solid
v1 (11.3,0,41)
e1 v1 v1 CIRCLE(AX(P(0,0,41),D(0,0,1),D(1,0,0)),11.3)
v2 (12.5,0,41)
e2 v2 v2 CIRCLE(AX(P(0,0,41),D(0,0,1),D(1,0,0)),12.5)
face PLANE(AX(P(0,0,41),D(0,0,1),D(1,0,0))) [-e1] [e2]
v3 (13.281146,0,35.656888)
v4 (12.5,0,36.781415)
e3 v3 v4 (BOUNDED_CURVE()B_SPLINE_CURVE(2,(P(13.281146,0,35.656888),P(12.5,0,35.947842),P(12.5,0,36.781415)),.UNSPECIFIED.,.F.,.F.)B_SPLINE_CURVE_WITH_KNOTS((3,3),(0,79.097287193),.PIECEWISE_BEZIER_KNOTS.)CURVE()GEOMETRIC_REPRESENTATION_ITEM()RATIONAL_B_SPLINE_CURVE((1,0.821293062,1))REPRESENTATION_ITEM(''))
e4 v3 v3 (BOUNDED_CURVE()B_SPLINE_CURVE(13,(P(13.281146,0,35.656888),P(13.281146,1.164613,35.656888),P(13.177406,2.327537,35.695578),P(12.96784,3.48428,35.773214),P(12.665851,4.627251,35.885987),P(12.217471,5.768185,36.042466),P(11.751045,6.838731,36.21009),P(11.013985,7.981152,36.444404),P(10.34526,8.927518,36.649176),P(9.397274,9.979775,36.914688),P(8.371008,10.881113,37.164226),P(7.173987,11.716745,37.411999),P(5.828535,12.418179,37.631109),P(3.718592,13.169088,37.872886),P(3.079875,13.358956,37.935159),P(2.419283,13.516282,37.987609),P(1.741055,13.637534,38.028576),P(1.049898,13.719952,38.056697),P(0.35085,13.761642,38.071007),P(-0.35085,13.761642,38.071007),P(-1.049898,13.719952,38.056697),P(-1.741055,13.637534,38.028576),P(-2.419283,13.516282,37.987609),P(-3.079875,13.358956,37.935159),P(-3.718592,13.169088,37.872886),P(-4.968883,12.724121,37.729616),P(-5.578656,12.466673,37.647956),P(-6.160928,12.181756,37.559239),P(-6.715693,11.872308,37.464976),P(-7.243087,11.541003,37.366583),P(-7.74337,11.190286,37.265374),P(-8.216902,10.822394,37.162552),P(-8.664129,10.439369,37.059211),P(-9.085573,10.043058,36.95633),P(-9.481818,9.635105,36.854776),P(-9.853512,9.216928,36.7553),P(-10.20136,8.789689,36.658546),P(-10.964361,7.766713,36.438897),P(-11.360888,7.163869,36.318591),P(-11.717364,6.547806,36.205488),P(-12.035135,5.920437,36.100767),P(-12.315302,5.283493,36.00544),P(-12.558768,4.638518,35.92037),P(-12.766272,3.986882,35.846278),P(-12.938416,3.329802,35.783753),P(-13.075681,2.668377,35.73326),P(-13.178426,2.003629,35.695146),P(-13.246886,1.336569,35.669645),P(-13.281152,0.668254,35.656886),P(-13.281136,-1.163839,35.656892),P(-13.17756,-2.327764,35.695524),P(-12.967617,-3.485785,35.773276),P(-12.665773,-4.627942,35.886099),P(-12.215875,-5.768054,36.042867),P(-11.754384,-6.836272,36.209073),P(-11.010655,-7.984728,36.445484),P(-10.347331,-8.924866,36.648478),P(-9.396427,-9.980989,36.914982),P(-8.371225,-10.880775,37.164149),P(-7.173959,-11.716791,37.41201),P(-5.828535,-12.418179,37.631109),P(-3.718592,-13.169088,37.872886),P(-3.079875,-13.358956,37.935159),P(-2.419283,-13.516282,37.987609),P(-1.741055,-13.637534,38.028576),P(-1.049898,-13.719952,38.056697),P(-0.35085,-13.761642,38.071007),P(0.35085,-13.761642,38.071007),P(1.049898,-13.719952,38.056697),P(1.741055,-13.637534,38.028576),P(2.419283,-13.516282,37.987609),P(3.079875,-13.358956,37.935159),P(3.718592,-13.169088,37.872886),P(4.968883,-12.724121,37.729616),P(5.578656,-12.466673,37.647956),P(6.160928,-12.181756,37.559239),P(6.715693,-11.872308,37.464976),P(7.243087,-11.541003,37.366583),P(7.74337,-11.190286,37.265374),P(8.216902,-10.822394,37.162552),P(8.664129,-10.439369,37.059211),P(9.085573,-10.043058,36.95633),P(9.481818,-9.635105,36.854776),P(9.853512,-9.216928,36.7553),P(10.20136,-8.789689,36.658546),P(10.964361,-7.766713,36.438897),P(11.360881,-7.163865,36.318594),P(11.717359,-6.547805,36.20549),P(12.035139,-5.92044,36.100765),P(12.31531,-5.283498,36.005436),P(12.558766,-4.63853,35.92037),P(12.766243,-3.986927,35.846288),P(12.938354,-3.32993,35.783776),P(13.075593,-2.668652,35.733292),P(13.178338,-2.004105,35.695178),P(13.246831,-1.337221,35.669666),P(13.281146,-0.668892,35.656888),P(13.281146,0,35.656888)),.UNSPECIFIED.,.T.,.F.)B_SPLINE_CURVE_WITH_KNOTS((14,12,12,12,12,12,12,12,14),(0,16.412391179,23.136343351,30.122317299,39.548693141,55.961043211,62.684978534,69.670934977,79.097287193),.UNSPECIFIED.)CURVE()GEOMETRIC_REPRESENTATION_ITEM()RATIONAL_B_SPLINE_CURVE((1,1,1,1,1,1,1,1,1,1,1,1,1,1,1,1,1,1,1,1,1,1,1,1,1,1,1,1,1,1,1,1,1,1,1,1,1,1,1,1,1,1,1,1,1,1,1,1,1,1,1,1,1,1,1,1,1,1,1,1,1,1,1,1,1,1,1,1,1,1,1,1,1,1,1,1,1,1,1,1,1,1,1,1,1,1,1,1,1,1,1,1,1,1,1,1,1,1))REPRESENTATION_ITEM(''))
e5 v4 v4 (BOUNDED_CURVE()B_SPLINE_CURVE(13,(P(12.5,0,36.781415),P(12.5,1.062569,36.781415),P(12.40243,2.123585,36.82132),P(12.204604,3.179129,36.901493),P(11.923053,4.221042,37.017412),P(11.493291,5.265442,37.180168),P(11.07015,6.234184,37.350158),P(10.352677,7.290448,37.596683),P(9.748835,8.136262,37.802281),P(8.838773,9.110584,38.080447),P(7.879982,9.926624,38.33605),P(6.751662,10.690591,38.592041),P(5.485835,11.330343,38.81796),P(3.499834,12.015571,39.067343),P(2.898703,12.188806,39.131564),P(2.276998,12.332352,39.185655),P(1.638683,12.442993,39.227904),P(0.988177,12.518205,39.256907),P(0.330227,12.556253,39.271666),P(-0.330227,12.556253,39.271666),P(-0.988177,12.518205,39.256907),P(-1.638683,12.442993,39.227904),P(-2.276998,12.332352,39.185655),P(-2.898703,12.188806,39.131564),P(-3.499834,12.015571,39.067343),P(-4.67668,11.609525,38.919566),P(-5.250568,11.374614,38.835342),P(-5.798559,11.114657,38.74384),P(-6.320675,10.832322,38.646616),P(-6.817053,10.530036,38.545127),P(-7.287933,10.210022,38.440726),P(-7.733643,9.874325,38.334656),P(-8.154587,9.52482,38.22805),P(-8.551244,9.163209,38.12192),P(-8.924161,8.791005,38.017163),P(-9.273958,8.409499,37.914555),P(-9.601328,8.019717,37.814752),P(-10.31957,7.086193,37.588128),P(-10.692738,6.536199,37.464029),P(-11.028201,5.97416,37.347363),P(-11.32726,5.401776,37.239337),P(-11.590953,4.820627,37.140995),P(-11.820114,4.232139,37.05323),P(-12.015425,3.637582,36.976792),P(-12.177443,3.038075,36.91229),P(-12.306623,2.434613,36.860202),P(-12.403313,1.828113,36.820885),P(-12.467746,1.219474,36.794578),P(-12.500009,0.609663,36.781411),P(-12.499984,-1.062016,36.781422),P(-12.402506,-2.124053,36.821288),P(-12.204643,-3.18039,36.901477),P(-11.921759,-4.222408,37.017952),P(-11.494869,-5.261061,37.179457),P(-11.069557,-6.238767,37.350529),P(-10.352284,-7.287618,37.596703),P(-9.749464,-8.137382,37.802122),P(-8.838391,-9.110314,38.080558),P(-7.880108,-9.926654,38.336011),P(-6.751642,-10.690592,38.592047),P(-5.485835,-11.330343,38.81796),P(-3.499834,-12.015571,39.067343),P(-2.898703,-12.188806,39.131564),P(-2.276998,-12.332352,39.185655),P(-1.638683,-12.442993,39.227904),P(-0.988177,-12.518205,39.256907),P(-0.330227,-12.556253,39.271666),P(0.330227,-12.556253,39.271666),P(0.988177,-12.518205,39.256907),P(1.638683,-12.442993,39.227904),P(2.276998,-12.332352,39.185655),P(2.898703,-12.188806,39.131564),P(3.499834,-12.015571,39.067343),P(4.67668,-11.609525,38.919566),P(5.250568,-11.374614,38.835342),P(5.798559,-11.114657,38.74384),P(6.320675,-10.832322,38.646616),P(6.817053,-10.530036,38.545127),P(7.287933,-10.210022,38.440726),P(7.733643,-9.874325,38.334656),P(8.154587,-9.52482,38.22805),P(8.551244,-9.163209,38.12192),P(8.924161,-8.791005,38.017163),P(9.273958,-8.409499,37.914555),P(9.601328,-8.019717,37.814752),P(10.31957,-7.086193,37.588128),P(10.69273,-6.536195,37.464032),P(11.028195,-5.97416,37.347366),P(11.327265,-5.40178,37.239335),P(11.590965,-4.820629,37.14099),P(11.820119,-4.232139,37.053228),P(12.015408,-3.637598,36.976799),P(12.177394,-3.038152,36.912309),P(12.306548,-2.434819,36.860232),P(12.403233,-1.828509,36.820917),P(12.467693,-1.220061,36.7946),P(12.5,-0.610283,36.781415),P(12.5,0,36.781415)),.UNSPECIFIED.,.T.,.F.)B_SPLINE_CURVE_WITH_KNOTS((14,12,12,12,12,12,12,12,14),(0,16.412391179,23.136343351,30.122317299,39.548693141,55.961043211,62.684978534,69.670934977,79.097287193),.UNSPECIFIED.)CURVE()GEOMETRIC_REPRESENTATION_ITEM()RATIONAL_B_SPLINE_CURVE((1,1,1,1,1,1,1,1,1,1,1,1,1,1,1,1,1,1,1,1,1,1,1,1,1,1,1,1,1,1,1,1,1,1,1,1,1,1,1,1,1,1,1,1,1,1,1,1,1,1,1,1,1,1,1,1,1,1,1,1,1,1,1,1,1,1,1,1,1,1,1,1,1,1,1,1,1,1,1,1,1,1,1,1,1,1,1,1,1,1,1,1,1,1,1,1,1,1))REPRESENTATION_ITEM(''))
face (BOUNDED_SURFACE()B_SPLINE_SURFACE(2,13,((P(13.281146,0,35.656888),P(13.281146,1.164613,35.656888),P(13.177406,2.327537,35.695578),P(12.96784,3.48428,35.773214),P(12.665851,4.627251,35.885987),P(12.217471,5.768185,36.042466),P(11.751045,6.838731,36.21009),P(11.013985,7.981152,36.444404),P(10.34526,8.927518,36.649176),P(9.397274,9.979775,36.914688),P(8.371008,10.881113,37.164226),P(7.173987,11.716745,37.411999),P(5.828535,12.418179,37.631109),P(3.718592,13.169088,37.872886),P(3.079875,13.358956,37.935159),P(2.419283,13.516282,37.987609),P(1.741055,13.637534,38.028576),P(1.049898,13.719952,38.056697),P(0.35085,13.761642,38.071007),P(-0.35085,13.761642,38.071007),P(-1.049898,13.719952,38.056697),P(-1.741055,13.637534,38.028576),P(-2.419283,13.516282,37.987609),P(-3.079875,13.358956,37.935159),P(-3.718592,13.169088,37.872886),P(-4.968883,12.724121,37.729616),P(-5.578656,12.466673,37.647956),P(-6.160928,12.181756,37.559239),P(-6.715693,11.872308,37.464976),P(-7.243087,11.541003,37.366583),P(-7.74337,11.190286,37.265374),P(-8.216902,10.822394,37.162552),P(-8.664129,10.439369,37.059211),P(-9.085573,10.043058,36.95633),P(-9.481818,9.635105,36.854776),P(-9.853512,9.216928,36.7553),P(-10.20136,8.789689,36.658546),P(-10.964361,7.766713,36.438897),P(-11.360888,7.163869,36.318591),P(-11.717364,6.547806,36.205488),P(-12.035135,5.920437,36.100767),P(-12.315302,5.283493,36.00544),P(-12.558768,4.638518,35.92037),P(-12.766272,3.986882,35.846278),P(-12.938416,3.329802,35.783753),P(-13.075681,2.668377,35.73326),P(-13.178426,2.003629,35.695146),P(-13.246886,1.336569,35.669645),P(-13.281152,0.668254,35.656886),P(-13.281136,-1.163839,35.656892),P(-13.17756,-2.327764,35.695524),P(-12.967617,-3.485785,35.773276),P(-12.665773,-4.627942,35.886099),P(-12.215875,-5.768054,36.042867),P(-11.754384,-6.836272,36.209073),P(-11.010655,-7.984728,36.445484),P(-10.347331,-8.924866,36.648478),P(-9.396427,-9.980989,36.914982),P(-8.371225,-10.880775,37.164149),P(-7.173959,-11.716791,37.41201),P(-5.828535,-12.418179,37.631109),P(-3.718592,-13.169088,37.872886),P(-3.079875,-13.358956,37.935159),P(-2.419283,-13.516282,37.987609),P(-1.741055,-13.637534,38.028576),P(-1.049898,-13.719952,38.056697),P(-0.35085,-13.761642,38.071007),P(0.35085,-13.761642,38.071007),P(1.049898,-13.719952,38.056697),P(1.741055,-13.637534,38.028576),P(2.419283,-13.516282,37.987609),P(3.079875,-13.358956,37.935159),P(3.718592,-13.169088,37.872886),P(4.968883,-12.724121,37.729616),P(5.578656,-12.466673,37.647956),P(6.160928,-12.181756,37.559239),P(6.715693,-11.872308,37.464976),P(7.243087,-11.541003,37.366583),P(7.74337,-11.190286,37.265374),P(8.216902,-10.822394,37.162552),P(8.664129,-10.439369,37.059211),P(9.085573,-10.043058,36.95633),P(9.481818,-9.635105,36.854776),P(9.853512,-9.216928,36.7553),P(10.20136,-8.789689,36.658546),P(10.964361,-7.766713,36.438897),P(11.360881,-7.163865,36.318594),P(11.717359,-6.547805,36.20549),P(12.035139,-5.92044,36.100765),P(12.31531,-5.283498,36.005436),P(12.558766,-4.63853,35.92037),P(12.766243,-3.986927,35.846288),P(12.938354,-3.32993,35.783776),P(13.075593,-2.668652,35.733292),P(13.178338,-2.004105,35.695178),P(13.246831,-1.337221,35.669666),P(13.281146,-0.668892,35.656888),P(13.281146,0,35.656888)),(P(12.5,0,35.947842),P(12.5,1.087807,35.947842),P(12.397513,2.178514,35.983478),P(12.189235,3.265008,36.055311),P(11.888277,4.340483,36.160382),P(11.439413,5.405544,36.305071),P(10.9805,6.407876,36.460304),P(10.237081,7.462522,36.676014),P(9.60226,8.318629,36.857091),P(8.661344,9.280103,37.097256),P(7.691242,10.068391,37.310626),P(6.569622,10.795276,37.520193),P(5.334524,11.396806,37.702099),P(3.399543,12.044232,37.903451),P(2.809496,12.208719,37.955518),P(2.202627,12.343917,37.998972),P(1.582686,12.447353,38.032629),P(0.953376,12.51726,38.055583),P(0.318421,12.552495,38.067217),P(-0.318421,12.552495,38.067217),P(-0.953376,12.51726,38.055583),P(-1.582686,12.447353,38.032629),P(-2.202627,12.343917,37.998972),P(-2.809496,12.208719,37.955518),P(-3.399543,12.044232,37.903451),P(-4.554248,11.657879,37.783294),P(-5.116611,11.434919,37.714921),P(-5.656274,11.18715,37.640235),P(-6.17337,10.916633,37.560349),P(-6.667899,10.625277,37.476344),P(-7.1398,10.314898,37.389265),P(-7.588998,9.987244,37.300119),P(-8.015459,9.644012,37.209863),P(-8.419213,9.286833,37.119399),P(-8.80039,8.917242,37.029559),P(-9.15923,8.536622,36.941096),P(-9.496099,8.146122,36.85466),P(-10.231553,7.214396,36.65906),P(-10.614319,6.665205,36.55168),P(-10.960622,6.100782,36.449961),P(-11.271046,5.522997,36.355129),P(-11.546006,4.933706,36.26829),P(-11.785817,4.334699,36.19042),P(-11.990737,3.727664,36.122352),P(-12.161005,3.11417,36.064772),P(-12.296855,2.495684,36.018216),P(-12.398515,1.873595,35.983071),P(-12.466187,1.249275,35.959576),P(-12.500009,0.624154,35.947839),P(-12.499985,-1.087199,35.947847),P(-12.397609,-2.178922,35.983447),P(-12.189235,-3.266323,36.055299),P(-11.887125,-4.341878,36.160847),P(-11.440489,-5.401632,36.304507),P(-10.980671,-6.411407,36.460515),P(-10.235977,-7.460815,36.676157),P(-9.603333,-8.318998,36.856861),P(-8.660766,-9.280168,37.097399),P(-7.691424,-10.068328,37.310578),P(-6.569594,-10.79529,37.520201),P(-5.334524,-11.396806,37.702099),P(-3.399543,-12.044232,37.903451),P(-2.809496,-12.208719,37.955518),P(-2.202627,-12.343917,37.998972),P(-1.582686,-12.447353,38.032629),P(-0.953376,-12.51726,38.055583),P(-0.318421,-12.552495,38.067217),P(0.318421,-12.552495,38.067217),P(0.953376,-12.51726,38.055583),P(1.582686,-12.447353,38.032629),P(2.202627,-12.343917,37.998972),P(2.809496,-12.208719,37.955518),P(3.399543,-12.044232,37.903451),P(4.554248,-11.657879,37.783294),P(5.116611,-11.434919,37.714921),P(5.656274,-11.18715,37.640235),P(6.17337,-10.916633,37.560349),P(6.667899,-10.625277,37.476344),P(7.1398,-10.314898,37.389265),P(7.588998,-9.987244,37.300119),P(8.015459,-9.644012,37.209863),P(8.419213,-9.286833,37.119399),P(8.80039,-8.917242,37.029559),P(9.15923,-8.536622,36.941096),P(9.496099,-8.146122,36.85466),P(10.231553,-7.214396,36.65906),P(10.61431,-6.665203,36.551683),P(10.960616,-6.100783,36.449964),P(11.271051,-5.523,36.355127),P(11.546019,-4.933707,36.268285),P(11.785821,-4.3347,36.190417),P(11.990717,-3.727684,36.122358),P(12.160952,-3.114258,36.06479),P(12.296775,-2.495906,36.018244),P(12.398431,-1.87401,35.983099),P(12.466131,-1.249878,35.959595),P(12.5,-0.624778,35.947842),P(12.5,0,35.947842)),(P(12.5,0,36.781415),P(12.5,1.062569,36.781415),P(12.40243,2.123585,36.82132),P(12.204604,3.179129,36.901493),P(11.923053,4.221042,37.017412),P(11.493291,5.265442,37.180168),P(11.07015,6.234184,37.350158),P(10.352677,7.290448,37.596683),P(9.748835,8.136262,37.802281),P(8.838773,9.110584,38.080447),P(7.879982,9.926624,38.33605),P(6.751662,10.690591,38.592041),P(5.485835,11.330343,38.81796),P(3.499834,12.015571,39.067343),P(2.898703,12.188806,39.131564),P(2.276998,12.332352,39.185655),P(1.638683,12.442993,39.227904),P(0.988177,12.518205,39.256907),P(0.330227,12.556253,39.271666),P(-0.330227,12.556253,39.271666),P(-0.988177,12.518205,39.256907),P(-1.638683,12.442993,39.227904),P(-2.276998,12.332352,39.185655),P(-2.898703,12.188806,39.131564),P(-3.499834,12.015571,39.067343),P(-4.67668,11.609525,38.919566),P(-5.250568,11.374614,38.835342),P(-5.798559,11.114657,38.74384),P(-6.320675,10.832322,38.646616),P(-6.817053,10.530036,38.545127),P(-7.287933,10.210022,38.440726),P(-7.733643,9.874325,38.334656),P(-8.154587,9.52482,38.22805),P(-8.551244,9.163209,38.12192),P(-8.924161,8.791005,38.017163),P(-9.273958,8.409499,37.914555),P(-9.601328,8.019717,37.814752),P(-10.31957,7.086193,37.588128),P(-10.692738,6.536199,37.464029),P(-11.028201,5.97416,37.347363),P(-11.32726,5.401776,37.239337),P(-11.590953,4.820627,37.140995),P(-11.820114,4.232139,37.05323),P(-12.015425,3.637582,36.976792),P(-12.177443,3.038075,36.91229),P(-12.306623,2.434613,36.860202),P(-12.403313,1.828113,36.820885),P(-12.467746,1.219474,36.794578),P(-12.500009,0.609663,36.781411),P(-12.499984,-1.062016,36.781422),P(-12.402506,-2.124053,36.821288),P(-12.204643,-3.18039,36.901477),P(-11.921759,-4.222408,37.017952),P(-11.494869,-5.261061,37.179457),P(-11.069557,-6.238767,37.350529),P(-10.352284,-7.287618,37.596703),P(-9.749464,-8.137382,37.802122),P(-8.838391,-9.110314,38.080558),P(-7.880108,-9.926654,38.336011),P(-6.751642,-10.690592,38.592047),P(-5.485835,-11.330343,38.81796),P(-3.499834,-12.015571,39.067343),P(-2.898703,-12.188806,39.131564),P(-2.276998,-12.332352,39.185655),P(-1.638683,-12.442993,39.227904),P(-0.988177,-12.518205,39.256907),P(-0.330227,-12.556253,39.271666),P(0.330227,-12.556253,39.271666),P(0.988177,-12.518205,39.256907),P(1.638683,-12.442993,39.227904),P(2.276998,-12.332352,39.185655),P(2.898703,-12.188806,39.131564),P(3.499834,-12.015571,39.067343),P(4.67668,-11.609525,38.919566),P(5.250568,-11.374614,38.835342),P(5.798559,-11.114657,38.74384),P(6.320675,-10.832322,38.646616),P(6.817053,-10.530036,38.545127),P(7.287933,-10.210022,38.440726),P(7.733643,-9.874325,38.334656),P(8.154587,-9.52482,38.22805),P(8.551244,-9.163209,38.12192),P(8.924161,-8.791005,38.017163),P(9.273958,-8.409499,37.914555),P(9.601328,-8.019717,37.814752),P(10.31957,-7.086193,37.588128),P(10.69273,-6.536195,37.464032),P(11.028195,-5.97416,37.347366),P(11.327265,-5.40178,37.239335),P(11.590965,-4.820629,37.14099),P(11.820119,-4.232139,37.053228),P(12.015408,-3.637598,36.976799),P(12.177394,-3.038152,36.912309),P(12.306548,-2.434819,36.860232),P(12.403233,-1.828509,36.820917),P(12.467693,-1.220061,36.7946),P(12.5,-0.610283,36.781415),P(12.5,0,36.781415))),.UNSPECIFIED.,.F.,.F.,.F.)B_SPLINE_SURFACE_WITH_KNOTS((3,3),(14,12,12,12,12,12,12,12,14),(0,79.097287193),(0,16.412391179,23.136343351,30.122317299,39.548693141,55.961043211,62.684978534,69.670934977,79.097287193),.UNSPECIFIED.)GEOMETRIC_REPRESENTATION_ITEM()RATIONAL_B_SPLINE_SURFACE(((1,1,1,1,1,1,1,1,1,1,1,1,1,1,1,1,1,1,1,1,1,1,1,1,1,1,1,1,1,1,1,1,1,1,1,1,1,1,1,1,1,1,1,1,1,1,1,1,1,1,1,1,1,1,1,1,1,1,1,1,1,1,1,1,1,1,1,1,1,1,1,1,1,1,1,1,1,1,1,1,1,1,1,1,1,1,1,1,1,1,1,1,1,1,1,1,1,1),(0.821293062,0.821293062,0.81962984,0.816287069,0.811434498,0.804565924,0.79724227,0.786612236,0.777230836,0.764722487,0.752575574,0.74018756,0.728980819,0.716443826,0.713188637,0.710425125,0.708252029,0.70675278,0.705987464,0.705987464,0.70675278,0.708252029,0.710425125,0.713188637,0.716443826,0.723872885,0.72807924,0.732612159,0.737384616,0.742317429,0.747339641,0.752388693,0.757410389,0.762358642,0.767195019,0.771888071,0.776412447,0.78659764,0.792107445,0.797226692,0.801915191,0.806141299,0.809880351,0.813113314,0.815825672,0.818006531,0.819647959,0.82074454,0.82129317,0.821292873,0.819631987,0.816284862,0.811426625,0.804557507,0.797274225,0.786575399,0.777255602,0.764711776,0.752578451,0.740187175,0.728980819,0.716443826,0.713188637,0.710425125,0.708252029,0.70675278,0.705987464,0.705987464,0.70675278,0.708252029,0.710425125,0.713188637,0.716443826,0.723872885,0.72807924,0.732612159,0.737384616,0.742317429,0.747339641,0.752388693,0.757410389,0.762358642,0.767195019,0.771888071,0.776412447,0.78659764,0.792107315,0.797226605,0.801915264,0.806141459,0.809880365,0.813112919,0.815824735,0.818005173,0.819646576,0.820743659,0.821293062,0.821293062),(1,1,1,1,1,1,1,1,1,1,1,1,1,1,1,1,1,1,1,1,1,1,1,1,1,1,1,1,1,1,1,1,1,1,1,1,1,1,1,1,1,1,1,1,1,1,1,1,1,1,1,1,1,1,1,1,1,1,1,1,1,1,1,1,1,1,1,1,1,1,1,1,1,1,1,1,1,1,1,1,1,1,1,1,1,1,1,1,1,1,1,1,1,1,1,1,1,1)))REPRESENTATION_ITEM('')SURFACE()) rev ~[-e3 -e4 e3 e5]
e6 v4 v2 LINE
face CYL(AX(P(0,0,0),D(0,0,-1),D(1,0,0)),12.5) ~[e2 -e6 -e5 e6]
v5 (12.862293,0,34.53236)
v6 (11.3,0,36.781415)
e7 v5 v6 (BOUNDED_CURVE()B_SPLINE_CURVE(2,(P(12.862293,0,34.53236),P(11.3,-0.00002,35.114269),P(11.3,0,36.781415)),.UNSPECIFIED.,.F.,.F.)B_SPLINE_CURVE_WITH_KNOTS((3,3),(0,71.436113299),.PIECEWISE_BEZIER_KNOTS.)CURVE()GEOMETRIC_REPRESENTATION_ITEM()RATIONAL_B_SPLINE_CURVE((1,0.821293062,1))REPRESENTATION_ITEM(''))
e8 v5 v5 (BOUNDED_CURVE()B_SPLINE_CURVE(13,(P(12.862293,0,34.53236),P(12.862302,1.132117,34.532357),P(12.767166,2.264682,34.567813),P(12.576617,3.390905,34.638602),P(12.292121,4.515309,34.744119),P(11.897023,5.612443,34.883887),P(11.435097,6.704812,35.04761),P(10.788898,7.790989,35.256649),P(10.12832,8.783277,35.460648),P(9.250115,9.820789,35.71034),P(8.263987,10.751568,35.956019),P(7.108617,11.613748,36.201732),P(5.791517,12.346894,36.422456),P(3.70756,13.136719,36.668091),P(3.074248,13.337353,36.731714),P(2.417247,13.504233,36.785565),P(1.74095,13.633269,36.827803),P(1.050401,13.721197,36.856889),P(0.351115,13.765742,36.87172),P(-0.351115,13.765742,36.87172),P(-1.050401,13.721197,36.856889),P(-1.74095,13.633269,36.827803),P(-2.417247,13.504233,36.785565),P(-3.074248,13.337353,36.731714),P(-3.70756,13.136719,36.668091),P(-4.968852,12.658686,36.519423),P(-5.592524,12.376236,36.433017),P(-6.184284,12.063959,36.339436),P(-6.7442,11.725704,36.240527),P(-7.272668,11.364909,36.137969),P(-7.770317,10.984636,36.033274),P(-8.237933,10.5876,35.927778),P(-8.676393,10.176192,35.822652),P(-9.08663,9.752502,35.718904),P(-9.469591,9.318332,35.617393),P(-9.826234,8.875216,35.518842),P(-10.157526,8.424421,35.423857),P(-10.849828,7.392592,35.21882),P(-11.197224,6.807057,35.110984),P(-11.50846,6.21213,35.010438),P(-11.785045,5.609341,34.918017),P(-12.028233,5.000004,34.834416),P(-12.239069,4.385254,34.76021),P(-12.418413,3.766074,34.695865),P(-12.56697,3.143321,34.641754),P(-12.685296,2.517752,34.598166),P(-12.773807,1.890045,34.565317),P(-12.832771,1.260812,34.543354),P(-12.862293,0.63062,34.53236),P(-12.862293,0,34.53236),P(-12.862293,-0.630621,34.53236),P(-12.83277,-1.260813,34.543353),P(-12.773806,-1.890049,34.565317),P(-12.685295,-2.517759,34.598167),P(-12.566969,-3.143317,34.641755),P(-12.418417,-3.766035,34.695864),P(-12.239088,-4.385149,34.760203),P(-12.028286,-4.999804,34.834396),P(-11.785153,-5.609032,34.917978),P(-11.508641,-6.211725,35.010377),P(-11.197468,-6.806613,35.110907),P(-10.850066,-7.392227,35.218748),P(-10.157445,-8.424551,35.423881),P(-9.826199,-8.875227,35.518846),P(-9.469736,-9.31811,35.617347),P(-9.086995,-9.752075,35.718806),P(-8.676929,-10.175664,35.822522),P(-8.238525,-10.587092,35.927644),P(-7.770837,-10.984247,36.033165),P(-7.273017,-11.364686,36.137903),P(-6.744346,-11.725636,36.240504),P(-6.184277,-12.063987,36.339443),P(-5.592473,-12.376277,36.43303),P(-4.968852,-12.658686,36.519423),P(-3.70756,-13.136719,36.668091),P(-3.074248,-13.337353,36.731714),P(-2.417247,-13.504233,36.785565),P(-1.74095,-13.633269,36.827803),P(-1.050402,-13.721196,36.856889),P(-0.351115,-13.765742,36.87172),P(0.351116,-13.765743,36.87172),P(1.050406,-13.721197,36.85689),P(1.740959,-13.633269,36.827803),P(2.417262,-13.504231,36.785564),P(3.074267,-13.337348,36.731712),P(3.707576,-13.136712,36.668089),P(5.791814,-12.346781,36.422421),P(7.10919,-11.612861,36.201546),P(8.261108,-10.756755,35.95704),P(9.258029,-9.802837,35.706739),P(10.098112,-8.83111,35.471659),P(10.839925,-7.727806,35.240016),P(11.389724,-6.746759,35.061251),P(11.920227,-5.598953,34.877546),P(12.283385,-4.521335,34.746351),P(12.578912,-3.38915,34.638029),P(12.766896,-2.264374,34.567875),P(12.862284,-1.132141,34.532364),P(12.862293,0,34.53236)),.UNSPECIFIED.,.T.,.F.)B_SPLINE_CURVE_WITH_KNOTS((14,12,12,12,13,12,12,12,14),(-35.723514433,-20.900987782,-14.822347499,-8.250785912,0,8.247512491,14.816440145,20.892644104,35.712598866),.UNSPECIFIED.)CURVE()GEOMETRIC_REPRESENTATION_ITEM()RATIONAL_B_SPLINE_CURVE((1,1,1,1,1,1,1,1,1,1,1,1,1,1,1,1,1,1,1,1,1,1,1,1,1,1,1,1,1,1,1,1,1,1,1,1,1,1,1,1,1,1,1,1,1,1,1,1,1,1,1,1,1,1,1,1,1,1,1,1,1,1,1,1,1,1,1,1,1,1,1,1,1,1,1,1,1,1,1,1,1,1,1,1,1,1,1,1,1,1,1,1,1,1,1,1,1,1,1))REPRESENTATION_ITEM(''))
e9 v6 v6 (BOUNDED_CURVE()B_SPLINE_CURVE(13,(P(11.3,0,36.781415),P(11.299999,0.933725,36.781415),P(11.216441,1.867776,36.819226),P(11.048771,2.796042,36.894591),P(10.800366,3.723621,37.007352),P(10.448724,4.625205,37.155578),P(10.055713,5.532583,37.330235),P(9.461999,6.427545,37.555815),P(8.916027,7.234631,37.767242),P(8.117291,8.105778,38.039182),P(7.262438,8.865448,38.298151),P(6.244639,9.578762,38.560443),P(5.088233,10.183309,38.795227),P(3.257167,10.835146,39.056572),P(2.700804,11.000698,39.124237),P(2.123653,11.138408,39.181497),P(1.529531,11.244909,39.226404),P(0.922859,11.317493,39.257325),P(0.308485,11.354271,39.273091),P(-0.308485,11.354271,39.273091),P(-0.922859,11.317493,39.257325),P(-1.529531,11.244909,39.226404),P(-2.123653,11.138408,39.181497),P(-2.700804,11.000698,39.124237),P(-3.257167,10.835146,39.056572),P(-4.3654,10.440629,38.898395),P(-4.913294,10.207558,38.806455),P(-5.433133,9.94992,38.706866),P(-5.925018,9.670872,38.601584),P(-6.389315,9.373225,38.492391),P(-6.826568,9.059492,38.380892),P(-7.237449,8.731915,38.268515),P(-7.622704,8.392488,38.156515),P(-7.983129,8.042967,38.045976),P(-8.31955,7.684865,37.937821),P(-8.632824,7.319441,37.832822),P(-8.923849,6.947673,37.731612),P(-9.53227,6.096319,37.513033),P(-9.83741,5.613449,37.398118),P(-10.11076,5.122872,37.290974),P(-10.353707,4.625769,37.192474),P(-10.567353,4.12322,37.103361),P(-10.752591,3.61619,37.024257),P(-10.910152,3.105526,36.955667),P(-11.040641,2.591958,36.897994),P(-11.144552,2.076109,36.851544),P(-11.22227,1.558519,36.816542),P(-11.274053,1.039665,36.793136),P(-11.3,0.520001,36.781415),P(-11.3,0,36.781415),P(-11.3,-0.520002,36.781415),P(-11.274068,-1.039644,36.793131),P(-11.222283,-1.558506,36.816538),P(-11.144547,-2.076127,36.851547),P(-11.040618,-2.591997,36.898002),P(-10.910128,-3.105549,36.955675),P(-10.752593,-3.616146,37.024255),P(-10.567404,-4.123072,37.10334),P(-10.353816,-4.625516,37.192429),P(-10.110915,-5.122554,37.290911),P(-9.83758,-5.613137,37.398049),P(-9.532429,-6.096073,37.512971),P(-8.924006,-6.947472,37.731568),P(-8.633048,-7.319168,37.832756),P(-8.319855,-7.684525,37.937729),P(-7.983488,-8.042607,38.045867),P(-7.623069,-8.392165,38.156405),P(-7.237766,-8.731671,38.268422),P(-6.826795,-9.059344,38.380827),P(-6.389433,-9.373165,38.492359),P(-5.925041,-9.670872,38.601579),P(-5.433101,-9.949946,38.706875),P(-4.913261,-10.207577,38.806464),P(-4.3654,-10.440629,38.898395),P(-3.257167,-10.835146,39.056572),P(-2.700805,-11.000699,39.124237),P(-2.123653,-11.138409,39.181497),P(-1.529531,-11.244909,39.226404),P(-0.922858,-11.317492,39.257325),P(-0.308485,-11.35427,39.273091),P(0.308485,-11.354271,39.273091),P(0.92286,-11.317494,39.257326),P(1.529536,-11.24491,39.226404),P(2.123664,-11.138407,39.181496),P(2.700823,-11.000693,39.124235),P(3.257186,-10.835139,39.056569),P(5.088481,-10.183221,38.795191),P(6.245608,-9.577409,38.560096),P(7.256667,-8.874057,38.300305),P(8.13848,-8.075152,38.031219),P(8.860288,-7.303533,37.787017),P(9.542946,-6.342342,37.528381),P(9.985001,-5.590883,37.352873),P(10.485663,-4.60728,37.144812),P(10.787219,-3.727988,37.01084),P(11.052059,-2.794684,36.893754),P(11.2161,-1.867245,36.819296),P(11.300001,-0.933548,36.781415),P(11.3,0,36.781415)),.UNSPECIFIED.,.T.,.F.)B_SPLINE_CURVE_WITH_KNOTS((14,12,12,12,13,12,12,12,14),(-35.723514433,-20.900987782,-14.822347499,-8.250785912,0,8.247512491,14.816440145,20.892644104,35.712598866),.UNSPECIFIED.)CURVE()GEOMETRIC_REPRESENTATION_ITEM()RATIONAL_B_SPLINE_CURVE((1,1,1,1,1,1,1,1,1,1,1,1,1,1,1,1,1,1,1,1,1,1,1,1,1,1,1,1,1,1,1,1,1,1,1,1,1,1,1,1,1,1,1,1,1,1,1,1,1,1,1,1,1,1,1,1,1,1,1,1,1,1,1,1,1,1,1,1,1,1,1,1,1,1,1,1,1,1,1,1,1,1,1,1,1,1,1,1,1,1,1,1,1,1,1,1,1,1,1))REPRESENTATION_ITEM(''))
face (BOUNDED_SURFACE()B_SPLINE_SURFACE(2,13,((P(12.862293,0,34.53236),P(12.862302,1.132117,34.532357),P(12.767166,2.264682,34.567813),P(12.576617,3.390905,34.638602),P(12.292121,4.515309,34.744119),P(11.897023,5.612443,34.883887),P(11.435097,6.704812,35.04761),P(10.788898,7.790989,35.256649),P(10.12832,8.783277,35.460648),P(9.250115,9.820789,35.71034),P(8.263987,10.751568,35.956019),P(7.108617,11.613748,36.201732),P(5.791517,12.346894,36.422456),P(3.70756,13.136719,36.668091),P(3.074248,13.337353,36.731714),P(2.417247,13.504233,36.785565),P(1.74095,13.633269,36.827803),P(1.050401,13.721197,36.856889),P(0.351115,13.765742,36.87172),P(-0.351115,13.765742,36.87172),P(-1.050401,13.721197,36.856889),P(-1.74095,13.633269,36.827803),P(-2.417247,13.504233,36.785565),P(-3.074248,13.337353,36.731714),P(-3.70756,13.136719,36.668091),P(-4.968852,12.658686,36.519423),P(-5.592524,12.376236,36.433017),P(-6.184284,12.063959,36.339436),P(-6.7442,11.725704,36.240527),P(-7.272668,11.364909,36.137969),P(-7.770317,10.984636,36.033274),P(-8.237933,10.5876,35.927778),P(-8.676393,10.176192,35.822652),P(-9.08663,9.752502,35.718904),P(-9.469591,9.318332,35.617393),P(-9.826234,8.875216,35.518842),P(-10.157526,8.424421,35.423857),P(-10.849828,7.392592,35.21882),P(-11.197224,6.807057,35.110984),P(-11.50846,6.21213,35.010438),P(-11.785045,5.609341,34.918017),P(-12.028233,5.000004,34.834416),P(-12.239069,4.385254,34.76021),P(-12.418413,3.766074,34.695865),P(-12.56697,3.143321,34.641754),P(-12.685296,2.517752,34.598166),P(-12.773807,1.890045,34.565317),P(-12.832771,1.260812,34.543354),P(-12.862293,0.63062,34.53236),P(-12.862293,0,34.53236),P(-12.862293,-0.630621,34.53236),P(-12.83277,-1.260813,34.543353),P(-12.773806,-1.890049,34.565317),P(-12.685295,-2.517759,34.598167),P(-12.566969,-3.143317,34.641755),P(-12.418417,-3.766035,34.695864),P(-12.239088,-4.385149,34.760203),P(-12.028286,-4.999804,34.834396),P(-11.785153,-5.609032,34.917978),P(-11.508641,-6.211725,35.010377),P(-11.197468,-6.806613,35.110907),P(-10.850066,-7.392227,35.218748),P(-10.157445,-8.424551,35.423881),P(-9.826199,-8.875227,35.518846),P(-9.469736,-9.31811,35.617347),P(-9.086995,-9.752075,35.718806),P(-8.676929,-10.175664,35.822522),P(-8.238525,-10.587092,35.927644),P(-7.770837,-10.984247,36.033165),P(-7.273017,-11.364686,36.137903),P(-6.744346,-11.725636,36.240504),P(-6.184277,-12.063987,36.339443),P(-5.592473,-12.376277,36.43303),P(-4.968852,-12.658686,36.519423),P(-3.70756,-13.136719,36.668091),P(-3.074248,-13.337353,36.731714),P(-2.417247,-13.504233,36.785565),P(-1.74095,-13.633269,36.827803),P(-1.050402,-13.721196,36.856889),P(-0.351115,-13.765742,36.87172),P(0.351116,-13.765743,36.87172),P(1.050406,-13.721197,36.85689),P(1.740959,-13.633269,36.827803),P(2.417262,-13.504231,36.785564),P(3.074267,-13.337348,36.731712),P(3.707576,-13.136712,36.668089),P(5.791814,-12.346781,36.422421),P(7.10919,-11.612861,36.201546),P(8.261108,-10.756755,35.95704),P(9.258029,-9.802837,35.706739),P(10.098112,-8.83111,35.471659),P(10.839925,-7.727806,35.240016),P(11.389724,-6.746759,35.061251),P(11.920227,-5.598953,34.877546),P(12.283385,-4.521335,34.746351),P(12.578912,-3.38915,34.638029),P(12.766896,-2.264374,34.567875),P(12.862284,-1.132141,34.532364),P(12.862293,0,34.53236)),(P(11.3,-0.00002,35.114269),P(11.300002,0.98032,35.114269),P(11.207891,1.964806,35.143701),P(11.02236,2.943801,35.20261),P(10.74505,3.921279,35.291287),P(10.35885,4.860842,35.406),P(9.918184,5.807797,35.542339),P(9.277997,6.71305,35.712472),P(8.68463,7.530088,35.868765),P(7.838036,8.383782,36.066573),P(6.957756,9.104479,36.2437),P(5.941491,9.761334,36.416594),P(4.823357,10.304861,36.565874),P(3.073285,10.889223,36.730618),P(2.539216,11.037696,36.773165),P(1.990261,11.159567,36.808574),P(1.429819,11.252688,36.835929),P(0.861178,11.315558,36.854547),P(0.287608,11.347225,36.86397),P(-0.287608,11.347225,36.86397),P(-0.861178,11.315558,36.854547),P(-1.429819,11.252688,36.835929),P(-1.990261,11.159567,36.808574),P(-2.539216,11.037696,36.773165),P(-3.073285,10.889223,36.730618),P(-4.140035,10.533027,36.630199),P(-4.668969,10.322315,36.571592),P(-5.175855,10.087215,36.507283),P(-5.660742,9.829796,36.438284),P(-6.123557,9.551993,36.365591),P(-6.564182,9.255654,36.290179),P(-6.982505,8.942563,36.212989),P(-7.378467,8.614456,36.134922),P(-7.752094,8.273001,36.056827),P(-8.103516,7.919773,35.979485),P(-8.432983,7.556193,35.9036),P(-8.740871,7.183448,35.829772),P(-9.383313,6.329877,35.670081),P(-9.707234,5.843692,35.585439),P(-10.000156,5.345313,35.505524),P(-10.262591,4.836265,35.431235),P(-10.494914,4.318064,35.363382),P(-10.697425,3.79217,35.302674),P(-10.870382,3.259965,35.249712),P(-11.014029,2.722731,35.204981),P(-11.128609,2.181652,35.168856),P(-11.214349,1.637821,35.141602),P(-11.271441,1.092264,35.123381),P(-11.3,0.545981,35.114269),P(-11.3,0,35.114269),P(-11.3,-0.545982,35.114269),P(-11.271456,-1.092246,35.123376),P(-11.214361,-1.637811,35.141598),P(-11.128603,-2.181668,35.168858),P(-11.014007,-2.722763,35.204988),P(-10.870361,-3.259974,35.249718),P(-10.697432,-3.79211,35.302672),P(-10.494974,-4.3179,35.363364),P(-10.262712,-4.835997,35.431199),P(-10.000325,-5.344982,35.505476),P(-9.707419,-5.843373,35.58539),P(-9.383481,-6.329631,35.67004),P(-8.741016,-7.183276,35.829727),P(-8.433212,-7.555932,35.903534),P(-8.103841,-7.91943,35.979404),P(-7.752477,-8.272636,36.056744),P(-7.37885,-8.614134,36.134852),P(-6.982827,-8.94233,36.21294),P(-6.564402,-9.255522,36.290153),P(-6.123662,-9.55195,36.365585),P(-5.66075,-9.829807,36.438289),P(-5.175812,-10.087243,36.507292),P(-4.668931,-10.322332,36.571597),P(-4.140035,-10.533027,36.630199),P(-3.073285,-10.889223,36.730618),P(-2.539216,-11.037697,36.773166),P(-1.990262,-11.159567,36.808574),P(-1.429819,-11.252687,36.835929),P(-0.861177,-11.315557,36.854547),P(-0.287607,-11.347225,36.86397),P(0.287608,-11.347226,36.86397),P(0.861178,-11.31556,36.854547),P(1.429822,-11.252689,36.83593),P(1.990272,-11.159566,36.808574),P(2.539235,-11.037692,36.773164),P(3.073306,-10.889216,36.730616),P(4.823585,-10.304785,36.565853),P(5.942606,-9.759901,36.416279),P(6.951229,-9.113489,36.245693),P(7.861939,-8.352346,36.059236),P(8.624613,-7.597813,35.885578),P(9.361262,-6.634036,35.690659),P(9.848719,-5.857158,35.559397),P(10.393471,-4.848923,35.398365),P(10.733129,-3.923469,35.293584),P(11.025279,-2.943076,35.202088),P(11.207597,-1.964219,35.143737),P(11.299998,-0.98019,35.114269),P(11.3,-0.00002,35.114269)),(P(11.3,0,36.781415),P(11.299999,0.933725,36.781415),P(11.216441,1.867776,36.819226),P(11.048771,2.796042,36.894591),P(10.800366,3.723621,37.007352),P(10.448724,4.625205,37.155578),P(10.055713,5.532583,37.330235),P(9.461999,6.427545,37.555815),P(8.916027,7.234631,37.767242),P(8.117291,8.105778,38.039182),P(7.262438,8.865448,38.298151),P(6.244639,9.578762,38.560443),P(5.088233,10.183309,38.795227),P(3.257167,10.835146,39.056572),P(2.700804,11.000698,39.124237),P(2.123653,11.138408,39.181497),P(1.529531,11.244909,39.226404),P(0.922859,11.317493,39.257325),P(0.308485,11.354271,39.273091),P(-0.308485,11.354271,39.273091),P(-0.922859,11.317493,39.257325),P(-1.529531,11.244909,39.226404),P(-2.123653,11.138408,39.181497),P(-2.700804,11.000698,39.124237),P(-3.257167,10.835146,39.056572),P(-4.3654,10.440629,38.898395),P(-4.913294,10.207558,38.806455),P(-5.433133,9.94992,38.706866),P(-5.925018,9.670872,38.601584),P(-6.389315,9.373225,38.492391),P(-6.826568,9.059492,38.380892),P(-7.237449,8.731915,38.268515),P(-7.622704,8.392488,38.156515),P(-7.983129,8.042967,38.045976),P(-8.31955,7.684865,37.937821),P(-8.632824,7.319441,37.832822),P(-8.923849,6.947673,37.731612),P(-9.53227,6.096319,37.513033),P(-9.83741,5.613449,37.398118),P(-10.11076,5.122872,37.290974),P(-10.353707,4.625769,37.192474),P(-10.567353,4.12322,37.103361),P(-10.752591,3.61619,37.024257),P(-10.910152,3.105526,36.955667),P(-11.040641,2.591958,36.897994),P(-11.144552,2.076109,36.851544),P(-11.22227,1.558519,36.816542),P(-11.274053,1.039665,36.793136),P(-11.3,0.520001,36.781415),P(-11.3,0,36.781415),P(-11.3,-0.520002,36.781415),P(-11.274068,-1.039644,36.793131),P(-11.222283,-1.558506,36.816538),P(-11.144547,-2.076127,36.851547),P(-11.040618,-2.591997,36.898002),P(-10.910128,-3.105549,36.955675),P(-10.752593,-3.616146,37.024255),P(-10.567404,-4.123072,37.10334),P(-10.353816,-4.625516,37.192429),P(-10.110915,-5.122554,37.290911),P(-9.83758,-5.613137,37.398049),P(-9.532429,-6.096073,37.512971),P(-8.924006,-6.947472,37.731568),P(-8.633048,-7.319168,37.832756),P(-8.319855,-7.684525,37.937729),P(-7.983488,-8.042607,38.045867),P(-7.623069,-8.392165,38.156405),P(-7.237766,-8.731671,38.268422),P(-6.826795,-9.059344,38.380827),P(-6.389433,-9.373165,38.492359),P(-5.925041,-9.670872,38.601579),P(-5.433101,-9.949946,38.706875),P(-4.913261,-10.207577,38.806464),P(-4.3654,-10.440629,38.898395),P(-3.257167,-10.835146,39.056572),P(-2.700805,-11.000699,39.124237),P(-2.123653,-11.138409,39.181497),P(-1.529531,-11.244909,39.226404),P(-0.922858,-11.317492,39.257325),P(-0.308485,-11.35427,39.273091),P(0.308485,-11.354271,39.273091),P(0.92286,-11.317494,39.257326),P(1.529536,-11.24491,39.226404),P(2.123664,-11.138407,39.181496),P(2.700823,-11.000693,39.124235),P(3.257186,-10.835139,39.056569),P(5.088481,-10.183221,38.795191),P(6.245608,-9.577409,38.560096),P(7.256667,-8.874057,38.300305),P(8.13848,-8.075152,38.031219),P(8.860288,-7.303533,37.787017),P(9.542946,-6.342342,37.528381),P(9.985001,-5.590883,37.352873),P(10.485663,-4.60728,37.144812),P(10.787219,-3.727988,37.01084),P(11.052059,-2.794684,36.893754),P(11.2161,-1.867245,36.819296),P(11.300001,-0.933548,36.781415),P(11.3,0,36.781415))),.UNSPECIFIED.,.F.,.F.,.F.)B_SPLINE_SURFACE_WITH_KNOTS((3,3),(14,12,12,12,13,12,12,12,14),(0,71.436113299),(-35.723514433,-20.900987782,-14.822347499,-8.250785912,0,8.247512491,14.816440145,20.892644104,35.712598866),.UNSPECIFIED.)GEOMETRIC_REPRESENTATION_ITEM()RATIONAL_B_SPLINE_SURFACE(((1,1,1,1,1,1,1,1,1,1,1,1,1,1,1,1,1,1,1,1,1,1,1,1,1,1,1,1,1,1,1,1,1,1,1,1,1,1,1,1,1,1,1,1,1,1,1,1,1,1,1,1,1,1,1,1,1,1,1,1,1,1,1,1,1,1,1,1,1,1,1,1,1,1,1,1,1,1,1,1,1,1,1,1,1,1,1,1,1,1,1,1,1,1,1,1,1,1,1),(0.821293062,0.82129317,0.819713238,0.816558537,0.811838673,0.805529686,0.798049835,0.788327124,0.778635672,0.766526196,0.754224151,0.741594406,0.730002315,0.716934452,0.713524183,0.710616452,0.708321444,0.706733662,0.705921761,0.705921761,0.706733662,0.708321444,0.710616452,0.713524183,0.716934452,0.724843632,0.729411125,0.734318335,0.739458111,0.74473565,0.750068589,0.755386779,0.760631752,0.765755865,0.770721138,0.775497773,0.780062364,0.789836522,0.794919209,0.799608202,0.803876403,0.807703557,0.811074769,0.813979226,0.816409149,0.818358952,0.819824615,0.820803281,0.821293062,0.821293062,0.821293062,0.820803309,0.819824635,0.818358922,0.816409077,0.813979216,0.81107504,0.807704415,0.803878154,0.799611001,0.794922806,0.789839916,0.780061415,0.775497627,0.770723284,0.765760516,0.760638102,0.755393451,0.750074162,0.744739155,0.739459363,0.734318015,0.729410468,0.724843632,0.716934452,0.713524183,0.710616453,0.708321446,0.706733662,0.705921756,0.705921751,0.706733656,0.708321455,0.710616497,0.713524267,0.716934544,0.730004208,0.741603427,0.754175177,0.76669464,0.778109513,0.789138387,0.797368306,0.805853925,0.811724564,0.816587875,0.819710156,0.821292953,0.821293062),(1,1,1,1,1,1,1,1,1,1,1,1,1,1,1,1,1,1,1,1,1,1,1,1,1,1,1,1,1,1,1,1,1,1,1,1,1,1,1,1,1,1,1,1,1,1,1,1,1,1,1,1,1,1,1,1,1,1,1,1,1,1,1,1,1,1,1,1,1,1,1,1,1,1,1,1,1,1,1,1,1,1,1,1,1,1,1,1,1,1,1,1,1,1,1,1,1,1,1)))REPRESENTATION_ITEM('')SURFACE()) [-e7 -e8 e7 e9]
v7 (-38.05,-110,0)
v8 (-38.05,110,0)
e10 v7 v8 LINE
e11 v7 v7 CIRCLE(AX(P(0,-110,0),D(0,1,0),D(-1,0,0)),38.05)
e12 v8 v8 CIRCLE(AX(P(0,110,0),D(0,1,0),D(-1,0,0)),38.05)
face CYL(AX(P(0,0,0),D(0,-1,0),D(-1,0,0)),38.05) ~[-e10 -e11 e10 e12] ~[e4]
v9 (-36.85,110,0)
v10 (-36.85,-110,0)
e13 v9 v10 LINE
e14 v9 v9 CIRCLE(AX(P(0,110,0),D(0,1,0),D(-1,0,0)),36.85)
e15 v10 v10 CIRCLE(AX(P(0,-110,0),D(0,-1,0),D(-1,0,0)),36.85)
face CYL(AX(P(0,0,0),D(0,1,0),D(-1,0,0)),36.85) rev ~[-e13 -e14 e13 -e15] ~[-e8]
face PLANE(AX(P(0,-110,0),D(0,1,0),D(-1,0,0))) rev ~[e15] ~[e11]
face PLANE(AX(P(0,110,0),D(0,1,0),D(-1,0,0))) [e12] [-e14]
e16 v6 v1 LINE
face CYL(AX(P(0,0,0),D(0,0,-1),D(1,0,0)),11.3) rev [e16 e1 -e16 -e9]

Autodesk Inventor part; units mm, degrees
ref_plane "YZ Plane" through (0, 0, 0) normal (1, 0, 0) x (0, 1, 0)
ref_plane "XZ Plane" through (0, 0, 0) normal (0, 1, 0) x (-1, 0, 0)
ref_plane "XY Plane" through (0, 0, 0) normal (0, 0, 1) x (1, 0, 0)
sketch "Szkic8" plane through (0, 0, 0) normal (0, 1, 0) x (-1, 0, 0)
  circle A0 centre (0, 0) radius 38.05
  circle A1 centre (0, 0) radius 36.85
  dimension "d53" = 76.1
  dimension "d54" = 1.2
extrude "Wyciągnięcie proste2" add sketch "Szkic8" along normal mid plane 220
sketch "Szkic13" plane through (0, 0, 0) normal (0, 0, 1) x (1, 0, 0)
  circle A0 centre (0, 0) radius 12.5
  circle A1 centre (0, 0) radius 11.3
  dimension "d67" = 25
  dimension "d68" = 1.2
extrude "Wyciągnięcie proste6" add sketch "Szkic13" along normal blind 41
sketch "Szkic14" plane through (0, 0, 41) normal (0, 0, 1) x (1, 0, 0)
  circle A0 centre (0, 0) radius 11.3 projected
extrude "Wyciągnięcie proste7" cut sketch "Szkic14" against normal blind 41
sketch "Szkic15" plane through (0, -110, 0) normal (0, -1, 0) x (1, 0, 0)
  circle A0 centre (0, 0) radius 36.85 projected
extrude "Wyciągnięcie proste8" cut sketch "Szkic15" against normal blind 220
fillet "Zaokrąglenie3" radius 1.2 2 edges at (0, 12.5, 38.05) (0, -12.5, 38.05)
fillet "Zaokrąglenie4" radius 2.4 2 edges at (0.0022, -11.3, 36.85) (0, 11.3, 36.85)
equation "\"d53\" = OD"
equation "\"d54\" = THK"
equation "\"d55\" = L1"
equation "\"d67\" = OD2"
equation "\"d68\" = THK"
equation "\"d69\" = L2"
equation "\"d71\" = L2"
equation "\"d73\" = L1"
equation "\"d75\" = THK"
equation "\"d76\" = 2 * THK"
equation "\"SzerokośćGięciaPodcięcia\" = Grubość"
equation "\"RozmiarPodcięciaNarożnika\" = 4 * Grubość"
equation "\"PromieńPrzejścia\" = PromieńGięcia"
equation "\"Rozmiar_promienia_Jacobiego\" = PromieńGięcia"
equation "\"Wielk_odstępu\" = Grubość"
equation "\"d2\" = PromieńGięcia"
equation "\"d23\" = PromieńGięcia"
equation "\"OD\" = 76.1"
equation "\"THK\" = 1.2"
equation "\"L1\" = 220"
equation "\"L2\" = 41"
equation "\"OD2\" = 25"
equation "\"Grubość\" = 1.5"
equation "\"PromieńGięcia\" = 3"
properties part number "Trójnik red. krótki  Ø76,1 25 76,1 s=1,2 L=220" material "304"
